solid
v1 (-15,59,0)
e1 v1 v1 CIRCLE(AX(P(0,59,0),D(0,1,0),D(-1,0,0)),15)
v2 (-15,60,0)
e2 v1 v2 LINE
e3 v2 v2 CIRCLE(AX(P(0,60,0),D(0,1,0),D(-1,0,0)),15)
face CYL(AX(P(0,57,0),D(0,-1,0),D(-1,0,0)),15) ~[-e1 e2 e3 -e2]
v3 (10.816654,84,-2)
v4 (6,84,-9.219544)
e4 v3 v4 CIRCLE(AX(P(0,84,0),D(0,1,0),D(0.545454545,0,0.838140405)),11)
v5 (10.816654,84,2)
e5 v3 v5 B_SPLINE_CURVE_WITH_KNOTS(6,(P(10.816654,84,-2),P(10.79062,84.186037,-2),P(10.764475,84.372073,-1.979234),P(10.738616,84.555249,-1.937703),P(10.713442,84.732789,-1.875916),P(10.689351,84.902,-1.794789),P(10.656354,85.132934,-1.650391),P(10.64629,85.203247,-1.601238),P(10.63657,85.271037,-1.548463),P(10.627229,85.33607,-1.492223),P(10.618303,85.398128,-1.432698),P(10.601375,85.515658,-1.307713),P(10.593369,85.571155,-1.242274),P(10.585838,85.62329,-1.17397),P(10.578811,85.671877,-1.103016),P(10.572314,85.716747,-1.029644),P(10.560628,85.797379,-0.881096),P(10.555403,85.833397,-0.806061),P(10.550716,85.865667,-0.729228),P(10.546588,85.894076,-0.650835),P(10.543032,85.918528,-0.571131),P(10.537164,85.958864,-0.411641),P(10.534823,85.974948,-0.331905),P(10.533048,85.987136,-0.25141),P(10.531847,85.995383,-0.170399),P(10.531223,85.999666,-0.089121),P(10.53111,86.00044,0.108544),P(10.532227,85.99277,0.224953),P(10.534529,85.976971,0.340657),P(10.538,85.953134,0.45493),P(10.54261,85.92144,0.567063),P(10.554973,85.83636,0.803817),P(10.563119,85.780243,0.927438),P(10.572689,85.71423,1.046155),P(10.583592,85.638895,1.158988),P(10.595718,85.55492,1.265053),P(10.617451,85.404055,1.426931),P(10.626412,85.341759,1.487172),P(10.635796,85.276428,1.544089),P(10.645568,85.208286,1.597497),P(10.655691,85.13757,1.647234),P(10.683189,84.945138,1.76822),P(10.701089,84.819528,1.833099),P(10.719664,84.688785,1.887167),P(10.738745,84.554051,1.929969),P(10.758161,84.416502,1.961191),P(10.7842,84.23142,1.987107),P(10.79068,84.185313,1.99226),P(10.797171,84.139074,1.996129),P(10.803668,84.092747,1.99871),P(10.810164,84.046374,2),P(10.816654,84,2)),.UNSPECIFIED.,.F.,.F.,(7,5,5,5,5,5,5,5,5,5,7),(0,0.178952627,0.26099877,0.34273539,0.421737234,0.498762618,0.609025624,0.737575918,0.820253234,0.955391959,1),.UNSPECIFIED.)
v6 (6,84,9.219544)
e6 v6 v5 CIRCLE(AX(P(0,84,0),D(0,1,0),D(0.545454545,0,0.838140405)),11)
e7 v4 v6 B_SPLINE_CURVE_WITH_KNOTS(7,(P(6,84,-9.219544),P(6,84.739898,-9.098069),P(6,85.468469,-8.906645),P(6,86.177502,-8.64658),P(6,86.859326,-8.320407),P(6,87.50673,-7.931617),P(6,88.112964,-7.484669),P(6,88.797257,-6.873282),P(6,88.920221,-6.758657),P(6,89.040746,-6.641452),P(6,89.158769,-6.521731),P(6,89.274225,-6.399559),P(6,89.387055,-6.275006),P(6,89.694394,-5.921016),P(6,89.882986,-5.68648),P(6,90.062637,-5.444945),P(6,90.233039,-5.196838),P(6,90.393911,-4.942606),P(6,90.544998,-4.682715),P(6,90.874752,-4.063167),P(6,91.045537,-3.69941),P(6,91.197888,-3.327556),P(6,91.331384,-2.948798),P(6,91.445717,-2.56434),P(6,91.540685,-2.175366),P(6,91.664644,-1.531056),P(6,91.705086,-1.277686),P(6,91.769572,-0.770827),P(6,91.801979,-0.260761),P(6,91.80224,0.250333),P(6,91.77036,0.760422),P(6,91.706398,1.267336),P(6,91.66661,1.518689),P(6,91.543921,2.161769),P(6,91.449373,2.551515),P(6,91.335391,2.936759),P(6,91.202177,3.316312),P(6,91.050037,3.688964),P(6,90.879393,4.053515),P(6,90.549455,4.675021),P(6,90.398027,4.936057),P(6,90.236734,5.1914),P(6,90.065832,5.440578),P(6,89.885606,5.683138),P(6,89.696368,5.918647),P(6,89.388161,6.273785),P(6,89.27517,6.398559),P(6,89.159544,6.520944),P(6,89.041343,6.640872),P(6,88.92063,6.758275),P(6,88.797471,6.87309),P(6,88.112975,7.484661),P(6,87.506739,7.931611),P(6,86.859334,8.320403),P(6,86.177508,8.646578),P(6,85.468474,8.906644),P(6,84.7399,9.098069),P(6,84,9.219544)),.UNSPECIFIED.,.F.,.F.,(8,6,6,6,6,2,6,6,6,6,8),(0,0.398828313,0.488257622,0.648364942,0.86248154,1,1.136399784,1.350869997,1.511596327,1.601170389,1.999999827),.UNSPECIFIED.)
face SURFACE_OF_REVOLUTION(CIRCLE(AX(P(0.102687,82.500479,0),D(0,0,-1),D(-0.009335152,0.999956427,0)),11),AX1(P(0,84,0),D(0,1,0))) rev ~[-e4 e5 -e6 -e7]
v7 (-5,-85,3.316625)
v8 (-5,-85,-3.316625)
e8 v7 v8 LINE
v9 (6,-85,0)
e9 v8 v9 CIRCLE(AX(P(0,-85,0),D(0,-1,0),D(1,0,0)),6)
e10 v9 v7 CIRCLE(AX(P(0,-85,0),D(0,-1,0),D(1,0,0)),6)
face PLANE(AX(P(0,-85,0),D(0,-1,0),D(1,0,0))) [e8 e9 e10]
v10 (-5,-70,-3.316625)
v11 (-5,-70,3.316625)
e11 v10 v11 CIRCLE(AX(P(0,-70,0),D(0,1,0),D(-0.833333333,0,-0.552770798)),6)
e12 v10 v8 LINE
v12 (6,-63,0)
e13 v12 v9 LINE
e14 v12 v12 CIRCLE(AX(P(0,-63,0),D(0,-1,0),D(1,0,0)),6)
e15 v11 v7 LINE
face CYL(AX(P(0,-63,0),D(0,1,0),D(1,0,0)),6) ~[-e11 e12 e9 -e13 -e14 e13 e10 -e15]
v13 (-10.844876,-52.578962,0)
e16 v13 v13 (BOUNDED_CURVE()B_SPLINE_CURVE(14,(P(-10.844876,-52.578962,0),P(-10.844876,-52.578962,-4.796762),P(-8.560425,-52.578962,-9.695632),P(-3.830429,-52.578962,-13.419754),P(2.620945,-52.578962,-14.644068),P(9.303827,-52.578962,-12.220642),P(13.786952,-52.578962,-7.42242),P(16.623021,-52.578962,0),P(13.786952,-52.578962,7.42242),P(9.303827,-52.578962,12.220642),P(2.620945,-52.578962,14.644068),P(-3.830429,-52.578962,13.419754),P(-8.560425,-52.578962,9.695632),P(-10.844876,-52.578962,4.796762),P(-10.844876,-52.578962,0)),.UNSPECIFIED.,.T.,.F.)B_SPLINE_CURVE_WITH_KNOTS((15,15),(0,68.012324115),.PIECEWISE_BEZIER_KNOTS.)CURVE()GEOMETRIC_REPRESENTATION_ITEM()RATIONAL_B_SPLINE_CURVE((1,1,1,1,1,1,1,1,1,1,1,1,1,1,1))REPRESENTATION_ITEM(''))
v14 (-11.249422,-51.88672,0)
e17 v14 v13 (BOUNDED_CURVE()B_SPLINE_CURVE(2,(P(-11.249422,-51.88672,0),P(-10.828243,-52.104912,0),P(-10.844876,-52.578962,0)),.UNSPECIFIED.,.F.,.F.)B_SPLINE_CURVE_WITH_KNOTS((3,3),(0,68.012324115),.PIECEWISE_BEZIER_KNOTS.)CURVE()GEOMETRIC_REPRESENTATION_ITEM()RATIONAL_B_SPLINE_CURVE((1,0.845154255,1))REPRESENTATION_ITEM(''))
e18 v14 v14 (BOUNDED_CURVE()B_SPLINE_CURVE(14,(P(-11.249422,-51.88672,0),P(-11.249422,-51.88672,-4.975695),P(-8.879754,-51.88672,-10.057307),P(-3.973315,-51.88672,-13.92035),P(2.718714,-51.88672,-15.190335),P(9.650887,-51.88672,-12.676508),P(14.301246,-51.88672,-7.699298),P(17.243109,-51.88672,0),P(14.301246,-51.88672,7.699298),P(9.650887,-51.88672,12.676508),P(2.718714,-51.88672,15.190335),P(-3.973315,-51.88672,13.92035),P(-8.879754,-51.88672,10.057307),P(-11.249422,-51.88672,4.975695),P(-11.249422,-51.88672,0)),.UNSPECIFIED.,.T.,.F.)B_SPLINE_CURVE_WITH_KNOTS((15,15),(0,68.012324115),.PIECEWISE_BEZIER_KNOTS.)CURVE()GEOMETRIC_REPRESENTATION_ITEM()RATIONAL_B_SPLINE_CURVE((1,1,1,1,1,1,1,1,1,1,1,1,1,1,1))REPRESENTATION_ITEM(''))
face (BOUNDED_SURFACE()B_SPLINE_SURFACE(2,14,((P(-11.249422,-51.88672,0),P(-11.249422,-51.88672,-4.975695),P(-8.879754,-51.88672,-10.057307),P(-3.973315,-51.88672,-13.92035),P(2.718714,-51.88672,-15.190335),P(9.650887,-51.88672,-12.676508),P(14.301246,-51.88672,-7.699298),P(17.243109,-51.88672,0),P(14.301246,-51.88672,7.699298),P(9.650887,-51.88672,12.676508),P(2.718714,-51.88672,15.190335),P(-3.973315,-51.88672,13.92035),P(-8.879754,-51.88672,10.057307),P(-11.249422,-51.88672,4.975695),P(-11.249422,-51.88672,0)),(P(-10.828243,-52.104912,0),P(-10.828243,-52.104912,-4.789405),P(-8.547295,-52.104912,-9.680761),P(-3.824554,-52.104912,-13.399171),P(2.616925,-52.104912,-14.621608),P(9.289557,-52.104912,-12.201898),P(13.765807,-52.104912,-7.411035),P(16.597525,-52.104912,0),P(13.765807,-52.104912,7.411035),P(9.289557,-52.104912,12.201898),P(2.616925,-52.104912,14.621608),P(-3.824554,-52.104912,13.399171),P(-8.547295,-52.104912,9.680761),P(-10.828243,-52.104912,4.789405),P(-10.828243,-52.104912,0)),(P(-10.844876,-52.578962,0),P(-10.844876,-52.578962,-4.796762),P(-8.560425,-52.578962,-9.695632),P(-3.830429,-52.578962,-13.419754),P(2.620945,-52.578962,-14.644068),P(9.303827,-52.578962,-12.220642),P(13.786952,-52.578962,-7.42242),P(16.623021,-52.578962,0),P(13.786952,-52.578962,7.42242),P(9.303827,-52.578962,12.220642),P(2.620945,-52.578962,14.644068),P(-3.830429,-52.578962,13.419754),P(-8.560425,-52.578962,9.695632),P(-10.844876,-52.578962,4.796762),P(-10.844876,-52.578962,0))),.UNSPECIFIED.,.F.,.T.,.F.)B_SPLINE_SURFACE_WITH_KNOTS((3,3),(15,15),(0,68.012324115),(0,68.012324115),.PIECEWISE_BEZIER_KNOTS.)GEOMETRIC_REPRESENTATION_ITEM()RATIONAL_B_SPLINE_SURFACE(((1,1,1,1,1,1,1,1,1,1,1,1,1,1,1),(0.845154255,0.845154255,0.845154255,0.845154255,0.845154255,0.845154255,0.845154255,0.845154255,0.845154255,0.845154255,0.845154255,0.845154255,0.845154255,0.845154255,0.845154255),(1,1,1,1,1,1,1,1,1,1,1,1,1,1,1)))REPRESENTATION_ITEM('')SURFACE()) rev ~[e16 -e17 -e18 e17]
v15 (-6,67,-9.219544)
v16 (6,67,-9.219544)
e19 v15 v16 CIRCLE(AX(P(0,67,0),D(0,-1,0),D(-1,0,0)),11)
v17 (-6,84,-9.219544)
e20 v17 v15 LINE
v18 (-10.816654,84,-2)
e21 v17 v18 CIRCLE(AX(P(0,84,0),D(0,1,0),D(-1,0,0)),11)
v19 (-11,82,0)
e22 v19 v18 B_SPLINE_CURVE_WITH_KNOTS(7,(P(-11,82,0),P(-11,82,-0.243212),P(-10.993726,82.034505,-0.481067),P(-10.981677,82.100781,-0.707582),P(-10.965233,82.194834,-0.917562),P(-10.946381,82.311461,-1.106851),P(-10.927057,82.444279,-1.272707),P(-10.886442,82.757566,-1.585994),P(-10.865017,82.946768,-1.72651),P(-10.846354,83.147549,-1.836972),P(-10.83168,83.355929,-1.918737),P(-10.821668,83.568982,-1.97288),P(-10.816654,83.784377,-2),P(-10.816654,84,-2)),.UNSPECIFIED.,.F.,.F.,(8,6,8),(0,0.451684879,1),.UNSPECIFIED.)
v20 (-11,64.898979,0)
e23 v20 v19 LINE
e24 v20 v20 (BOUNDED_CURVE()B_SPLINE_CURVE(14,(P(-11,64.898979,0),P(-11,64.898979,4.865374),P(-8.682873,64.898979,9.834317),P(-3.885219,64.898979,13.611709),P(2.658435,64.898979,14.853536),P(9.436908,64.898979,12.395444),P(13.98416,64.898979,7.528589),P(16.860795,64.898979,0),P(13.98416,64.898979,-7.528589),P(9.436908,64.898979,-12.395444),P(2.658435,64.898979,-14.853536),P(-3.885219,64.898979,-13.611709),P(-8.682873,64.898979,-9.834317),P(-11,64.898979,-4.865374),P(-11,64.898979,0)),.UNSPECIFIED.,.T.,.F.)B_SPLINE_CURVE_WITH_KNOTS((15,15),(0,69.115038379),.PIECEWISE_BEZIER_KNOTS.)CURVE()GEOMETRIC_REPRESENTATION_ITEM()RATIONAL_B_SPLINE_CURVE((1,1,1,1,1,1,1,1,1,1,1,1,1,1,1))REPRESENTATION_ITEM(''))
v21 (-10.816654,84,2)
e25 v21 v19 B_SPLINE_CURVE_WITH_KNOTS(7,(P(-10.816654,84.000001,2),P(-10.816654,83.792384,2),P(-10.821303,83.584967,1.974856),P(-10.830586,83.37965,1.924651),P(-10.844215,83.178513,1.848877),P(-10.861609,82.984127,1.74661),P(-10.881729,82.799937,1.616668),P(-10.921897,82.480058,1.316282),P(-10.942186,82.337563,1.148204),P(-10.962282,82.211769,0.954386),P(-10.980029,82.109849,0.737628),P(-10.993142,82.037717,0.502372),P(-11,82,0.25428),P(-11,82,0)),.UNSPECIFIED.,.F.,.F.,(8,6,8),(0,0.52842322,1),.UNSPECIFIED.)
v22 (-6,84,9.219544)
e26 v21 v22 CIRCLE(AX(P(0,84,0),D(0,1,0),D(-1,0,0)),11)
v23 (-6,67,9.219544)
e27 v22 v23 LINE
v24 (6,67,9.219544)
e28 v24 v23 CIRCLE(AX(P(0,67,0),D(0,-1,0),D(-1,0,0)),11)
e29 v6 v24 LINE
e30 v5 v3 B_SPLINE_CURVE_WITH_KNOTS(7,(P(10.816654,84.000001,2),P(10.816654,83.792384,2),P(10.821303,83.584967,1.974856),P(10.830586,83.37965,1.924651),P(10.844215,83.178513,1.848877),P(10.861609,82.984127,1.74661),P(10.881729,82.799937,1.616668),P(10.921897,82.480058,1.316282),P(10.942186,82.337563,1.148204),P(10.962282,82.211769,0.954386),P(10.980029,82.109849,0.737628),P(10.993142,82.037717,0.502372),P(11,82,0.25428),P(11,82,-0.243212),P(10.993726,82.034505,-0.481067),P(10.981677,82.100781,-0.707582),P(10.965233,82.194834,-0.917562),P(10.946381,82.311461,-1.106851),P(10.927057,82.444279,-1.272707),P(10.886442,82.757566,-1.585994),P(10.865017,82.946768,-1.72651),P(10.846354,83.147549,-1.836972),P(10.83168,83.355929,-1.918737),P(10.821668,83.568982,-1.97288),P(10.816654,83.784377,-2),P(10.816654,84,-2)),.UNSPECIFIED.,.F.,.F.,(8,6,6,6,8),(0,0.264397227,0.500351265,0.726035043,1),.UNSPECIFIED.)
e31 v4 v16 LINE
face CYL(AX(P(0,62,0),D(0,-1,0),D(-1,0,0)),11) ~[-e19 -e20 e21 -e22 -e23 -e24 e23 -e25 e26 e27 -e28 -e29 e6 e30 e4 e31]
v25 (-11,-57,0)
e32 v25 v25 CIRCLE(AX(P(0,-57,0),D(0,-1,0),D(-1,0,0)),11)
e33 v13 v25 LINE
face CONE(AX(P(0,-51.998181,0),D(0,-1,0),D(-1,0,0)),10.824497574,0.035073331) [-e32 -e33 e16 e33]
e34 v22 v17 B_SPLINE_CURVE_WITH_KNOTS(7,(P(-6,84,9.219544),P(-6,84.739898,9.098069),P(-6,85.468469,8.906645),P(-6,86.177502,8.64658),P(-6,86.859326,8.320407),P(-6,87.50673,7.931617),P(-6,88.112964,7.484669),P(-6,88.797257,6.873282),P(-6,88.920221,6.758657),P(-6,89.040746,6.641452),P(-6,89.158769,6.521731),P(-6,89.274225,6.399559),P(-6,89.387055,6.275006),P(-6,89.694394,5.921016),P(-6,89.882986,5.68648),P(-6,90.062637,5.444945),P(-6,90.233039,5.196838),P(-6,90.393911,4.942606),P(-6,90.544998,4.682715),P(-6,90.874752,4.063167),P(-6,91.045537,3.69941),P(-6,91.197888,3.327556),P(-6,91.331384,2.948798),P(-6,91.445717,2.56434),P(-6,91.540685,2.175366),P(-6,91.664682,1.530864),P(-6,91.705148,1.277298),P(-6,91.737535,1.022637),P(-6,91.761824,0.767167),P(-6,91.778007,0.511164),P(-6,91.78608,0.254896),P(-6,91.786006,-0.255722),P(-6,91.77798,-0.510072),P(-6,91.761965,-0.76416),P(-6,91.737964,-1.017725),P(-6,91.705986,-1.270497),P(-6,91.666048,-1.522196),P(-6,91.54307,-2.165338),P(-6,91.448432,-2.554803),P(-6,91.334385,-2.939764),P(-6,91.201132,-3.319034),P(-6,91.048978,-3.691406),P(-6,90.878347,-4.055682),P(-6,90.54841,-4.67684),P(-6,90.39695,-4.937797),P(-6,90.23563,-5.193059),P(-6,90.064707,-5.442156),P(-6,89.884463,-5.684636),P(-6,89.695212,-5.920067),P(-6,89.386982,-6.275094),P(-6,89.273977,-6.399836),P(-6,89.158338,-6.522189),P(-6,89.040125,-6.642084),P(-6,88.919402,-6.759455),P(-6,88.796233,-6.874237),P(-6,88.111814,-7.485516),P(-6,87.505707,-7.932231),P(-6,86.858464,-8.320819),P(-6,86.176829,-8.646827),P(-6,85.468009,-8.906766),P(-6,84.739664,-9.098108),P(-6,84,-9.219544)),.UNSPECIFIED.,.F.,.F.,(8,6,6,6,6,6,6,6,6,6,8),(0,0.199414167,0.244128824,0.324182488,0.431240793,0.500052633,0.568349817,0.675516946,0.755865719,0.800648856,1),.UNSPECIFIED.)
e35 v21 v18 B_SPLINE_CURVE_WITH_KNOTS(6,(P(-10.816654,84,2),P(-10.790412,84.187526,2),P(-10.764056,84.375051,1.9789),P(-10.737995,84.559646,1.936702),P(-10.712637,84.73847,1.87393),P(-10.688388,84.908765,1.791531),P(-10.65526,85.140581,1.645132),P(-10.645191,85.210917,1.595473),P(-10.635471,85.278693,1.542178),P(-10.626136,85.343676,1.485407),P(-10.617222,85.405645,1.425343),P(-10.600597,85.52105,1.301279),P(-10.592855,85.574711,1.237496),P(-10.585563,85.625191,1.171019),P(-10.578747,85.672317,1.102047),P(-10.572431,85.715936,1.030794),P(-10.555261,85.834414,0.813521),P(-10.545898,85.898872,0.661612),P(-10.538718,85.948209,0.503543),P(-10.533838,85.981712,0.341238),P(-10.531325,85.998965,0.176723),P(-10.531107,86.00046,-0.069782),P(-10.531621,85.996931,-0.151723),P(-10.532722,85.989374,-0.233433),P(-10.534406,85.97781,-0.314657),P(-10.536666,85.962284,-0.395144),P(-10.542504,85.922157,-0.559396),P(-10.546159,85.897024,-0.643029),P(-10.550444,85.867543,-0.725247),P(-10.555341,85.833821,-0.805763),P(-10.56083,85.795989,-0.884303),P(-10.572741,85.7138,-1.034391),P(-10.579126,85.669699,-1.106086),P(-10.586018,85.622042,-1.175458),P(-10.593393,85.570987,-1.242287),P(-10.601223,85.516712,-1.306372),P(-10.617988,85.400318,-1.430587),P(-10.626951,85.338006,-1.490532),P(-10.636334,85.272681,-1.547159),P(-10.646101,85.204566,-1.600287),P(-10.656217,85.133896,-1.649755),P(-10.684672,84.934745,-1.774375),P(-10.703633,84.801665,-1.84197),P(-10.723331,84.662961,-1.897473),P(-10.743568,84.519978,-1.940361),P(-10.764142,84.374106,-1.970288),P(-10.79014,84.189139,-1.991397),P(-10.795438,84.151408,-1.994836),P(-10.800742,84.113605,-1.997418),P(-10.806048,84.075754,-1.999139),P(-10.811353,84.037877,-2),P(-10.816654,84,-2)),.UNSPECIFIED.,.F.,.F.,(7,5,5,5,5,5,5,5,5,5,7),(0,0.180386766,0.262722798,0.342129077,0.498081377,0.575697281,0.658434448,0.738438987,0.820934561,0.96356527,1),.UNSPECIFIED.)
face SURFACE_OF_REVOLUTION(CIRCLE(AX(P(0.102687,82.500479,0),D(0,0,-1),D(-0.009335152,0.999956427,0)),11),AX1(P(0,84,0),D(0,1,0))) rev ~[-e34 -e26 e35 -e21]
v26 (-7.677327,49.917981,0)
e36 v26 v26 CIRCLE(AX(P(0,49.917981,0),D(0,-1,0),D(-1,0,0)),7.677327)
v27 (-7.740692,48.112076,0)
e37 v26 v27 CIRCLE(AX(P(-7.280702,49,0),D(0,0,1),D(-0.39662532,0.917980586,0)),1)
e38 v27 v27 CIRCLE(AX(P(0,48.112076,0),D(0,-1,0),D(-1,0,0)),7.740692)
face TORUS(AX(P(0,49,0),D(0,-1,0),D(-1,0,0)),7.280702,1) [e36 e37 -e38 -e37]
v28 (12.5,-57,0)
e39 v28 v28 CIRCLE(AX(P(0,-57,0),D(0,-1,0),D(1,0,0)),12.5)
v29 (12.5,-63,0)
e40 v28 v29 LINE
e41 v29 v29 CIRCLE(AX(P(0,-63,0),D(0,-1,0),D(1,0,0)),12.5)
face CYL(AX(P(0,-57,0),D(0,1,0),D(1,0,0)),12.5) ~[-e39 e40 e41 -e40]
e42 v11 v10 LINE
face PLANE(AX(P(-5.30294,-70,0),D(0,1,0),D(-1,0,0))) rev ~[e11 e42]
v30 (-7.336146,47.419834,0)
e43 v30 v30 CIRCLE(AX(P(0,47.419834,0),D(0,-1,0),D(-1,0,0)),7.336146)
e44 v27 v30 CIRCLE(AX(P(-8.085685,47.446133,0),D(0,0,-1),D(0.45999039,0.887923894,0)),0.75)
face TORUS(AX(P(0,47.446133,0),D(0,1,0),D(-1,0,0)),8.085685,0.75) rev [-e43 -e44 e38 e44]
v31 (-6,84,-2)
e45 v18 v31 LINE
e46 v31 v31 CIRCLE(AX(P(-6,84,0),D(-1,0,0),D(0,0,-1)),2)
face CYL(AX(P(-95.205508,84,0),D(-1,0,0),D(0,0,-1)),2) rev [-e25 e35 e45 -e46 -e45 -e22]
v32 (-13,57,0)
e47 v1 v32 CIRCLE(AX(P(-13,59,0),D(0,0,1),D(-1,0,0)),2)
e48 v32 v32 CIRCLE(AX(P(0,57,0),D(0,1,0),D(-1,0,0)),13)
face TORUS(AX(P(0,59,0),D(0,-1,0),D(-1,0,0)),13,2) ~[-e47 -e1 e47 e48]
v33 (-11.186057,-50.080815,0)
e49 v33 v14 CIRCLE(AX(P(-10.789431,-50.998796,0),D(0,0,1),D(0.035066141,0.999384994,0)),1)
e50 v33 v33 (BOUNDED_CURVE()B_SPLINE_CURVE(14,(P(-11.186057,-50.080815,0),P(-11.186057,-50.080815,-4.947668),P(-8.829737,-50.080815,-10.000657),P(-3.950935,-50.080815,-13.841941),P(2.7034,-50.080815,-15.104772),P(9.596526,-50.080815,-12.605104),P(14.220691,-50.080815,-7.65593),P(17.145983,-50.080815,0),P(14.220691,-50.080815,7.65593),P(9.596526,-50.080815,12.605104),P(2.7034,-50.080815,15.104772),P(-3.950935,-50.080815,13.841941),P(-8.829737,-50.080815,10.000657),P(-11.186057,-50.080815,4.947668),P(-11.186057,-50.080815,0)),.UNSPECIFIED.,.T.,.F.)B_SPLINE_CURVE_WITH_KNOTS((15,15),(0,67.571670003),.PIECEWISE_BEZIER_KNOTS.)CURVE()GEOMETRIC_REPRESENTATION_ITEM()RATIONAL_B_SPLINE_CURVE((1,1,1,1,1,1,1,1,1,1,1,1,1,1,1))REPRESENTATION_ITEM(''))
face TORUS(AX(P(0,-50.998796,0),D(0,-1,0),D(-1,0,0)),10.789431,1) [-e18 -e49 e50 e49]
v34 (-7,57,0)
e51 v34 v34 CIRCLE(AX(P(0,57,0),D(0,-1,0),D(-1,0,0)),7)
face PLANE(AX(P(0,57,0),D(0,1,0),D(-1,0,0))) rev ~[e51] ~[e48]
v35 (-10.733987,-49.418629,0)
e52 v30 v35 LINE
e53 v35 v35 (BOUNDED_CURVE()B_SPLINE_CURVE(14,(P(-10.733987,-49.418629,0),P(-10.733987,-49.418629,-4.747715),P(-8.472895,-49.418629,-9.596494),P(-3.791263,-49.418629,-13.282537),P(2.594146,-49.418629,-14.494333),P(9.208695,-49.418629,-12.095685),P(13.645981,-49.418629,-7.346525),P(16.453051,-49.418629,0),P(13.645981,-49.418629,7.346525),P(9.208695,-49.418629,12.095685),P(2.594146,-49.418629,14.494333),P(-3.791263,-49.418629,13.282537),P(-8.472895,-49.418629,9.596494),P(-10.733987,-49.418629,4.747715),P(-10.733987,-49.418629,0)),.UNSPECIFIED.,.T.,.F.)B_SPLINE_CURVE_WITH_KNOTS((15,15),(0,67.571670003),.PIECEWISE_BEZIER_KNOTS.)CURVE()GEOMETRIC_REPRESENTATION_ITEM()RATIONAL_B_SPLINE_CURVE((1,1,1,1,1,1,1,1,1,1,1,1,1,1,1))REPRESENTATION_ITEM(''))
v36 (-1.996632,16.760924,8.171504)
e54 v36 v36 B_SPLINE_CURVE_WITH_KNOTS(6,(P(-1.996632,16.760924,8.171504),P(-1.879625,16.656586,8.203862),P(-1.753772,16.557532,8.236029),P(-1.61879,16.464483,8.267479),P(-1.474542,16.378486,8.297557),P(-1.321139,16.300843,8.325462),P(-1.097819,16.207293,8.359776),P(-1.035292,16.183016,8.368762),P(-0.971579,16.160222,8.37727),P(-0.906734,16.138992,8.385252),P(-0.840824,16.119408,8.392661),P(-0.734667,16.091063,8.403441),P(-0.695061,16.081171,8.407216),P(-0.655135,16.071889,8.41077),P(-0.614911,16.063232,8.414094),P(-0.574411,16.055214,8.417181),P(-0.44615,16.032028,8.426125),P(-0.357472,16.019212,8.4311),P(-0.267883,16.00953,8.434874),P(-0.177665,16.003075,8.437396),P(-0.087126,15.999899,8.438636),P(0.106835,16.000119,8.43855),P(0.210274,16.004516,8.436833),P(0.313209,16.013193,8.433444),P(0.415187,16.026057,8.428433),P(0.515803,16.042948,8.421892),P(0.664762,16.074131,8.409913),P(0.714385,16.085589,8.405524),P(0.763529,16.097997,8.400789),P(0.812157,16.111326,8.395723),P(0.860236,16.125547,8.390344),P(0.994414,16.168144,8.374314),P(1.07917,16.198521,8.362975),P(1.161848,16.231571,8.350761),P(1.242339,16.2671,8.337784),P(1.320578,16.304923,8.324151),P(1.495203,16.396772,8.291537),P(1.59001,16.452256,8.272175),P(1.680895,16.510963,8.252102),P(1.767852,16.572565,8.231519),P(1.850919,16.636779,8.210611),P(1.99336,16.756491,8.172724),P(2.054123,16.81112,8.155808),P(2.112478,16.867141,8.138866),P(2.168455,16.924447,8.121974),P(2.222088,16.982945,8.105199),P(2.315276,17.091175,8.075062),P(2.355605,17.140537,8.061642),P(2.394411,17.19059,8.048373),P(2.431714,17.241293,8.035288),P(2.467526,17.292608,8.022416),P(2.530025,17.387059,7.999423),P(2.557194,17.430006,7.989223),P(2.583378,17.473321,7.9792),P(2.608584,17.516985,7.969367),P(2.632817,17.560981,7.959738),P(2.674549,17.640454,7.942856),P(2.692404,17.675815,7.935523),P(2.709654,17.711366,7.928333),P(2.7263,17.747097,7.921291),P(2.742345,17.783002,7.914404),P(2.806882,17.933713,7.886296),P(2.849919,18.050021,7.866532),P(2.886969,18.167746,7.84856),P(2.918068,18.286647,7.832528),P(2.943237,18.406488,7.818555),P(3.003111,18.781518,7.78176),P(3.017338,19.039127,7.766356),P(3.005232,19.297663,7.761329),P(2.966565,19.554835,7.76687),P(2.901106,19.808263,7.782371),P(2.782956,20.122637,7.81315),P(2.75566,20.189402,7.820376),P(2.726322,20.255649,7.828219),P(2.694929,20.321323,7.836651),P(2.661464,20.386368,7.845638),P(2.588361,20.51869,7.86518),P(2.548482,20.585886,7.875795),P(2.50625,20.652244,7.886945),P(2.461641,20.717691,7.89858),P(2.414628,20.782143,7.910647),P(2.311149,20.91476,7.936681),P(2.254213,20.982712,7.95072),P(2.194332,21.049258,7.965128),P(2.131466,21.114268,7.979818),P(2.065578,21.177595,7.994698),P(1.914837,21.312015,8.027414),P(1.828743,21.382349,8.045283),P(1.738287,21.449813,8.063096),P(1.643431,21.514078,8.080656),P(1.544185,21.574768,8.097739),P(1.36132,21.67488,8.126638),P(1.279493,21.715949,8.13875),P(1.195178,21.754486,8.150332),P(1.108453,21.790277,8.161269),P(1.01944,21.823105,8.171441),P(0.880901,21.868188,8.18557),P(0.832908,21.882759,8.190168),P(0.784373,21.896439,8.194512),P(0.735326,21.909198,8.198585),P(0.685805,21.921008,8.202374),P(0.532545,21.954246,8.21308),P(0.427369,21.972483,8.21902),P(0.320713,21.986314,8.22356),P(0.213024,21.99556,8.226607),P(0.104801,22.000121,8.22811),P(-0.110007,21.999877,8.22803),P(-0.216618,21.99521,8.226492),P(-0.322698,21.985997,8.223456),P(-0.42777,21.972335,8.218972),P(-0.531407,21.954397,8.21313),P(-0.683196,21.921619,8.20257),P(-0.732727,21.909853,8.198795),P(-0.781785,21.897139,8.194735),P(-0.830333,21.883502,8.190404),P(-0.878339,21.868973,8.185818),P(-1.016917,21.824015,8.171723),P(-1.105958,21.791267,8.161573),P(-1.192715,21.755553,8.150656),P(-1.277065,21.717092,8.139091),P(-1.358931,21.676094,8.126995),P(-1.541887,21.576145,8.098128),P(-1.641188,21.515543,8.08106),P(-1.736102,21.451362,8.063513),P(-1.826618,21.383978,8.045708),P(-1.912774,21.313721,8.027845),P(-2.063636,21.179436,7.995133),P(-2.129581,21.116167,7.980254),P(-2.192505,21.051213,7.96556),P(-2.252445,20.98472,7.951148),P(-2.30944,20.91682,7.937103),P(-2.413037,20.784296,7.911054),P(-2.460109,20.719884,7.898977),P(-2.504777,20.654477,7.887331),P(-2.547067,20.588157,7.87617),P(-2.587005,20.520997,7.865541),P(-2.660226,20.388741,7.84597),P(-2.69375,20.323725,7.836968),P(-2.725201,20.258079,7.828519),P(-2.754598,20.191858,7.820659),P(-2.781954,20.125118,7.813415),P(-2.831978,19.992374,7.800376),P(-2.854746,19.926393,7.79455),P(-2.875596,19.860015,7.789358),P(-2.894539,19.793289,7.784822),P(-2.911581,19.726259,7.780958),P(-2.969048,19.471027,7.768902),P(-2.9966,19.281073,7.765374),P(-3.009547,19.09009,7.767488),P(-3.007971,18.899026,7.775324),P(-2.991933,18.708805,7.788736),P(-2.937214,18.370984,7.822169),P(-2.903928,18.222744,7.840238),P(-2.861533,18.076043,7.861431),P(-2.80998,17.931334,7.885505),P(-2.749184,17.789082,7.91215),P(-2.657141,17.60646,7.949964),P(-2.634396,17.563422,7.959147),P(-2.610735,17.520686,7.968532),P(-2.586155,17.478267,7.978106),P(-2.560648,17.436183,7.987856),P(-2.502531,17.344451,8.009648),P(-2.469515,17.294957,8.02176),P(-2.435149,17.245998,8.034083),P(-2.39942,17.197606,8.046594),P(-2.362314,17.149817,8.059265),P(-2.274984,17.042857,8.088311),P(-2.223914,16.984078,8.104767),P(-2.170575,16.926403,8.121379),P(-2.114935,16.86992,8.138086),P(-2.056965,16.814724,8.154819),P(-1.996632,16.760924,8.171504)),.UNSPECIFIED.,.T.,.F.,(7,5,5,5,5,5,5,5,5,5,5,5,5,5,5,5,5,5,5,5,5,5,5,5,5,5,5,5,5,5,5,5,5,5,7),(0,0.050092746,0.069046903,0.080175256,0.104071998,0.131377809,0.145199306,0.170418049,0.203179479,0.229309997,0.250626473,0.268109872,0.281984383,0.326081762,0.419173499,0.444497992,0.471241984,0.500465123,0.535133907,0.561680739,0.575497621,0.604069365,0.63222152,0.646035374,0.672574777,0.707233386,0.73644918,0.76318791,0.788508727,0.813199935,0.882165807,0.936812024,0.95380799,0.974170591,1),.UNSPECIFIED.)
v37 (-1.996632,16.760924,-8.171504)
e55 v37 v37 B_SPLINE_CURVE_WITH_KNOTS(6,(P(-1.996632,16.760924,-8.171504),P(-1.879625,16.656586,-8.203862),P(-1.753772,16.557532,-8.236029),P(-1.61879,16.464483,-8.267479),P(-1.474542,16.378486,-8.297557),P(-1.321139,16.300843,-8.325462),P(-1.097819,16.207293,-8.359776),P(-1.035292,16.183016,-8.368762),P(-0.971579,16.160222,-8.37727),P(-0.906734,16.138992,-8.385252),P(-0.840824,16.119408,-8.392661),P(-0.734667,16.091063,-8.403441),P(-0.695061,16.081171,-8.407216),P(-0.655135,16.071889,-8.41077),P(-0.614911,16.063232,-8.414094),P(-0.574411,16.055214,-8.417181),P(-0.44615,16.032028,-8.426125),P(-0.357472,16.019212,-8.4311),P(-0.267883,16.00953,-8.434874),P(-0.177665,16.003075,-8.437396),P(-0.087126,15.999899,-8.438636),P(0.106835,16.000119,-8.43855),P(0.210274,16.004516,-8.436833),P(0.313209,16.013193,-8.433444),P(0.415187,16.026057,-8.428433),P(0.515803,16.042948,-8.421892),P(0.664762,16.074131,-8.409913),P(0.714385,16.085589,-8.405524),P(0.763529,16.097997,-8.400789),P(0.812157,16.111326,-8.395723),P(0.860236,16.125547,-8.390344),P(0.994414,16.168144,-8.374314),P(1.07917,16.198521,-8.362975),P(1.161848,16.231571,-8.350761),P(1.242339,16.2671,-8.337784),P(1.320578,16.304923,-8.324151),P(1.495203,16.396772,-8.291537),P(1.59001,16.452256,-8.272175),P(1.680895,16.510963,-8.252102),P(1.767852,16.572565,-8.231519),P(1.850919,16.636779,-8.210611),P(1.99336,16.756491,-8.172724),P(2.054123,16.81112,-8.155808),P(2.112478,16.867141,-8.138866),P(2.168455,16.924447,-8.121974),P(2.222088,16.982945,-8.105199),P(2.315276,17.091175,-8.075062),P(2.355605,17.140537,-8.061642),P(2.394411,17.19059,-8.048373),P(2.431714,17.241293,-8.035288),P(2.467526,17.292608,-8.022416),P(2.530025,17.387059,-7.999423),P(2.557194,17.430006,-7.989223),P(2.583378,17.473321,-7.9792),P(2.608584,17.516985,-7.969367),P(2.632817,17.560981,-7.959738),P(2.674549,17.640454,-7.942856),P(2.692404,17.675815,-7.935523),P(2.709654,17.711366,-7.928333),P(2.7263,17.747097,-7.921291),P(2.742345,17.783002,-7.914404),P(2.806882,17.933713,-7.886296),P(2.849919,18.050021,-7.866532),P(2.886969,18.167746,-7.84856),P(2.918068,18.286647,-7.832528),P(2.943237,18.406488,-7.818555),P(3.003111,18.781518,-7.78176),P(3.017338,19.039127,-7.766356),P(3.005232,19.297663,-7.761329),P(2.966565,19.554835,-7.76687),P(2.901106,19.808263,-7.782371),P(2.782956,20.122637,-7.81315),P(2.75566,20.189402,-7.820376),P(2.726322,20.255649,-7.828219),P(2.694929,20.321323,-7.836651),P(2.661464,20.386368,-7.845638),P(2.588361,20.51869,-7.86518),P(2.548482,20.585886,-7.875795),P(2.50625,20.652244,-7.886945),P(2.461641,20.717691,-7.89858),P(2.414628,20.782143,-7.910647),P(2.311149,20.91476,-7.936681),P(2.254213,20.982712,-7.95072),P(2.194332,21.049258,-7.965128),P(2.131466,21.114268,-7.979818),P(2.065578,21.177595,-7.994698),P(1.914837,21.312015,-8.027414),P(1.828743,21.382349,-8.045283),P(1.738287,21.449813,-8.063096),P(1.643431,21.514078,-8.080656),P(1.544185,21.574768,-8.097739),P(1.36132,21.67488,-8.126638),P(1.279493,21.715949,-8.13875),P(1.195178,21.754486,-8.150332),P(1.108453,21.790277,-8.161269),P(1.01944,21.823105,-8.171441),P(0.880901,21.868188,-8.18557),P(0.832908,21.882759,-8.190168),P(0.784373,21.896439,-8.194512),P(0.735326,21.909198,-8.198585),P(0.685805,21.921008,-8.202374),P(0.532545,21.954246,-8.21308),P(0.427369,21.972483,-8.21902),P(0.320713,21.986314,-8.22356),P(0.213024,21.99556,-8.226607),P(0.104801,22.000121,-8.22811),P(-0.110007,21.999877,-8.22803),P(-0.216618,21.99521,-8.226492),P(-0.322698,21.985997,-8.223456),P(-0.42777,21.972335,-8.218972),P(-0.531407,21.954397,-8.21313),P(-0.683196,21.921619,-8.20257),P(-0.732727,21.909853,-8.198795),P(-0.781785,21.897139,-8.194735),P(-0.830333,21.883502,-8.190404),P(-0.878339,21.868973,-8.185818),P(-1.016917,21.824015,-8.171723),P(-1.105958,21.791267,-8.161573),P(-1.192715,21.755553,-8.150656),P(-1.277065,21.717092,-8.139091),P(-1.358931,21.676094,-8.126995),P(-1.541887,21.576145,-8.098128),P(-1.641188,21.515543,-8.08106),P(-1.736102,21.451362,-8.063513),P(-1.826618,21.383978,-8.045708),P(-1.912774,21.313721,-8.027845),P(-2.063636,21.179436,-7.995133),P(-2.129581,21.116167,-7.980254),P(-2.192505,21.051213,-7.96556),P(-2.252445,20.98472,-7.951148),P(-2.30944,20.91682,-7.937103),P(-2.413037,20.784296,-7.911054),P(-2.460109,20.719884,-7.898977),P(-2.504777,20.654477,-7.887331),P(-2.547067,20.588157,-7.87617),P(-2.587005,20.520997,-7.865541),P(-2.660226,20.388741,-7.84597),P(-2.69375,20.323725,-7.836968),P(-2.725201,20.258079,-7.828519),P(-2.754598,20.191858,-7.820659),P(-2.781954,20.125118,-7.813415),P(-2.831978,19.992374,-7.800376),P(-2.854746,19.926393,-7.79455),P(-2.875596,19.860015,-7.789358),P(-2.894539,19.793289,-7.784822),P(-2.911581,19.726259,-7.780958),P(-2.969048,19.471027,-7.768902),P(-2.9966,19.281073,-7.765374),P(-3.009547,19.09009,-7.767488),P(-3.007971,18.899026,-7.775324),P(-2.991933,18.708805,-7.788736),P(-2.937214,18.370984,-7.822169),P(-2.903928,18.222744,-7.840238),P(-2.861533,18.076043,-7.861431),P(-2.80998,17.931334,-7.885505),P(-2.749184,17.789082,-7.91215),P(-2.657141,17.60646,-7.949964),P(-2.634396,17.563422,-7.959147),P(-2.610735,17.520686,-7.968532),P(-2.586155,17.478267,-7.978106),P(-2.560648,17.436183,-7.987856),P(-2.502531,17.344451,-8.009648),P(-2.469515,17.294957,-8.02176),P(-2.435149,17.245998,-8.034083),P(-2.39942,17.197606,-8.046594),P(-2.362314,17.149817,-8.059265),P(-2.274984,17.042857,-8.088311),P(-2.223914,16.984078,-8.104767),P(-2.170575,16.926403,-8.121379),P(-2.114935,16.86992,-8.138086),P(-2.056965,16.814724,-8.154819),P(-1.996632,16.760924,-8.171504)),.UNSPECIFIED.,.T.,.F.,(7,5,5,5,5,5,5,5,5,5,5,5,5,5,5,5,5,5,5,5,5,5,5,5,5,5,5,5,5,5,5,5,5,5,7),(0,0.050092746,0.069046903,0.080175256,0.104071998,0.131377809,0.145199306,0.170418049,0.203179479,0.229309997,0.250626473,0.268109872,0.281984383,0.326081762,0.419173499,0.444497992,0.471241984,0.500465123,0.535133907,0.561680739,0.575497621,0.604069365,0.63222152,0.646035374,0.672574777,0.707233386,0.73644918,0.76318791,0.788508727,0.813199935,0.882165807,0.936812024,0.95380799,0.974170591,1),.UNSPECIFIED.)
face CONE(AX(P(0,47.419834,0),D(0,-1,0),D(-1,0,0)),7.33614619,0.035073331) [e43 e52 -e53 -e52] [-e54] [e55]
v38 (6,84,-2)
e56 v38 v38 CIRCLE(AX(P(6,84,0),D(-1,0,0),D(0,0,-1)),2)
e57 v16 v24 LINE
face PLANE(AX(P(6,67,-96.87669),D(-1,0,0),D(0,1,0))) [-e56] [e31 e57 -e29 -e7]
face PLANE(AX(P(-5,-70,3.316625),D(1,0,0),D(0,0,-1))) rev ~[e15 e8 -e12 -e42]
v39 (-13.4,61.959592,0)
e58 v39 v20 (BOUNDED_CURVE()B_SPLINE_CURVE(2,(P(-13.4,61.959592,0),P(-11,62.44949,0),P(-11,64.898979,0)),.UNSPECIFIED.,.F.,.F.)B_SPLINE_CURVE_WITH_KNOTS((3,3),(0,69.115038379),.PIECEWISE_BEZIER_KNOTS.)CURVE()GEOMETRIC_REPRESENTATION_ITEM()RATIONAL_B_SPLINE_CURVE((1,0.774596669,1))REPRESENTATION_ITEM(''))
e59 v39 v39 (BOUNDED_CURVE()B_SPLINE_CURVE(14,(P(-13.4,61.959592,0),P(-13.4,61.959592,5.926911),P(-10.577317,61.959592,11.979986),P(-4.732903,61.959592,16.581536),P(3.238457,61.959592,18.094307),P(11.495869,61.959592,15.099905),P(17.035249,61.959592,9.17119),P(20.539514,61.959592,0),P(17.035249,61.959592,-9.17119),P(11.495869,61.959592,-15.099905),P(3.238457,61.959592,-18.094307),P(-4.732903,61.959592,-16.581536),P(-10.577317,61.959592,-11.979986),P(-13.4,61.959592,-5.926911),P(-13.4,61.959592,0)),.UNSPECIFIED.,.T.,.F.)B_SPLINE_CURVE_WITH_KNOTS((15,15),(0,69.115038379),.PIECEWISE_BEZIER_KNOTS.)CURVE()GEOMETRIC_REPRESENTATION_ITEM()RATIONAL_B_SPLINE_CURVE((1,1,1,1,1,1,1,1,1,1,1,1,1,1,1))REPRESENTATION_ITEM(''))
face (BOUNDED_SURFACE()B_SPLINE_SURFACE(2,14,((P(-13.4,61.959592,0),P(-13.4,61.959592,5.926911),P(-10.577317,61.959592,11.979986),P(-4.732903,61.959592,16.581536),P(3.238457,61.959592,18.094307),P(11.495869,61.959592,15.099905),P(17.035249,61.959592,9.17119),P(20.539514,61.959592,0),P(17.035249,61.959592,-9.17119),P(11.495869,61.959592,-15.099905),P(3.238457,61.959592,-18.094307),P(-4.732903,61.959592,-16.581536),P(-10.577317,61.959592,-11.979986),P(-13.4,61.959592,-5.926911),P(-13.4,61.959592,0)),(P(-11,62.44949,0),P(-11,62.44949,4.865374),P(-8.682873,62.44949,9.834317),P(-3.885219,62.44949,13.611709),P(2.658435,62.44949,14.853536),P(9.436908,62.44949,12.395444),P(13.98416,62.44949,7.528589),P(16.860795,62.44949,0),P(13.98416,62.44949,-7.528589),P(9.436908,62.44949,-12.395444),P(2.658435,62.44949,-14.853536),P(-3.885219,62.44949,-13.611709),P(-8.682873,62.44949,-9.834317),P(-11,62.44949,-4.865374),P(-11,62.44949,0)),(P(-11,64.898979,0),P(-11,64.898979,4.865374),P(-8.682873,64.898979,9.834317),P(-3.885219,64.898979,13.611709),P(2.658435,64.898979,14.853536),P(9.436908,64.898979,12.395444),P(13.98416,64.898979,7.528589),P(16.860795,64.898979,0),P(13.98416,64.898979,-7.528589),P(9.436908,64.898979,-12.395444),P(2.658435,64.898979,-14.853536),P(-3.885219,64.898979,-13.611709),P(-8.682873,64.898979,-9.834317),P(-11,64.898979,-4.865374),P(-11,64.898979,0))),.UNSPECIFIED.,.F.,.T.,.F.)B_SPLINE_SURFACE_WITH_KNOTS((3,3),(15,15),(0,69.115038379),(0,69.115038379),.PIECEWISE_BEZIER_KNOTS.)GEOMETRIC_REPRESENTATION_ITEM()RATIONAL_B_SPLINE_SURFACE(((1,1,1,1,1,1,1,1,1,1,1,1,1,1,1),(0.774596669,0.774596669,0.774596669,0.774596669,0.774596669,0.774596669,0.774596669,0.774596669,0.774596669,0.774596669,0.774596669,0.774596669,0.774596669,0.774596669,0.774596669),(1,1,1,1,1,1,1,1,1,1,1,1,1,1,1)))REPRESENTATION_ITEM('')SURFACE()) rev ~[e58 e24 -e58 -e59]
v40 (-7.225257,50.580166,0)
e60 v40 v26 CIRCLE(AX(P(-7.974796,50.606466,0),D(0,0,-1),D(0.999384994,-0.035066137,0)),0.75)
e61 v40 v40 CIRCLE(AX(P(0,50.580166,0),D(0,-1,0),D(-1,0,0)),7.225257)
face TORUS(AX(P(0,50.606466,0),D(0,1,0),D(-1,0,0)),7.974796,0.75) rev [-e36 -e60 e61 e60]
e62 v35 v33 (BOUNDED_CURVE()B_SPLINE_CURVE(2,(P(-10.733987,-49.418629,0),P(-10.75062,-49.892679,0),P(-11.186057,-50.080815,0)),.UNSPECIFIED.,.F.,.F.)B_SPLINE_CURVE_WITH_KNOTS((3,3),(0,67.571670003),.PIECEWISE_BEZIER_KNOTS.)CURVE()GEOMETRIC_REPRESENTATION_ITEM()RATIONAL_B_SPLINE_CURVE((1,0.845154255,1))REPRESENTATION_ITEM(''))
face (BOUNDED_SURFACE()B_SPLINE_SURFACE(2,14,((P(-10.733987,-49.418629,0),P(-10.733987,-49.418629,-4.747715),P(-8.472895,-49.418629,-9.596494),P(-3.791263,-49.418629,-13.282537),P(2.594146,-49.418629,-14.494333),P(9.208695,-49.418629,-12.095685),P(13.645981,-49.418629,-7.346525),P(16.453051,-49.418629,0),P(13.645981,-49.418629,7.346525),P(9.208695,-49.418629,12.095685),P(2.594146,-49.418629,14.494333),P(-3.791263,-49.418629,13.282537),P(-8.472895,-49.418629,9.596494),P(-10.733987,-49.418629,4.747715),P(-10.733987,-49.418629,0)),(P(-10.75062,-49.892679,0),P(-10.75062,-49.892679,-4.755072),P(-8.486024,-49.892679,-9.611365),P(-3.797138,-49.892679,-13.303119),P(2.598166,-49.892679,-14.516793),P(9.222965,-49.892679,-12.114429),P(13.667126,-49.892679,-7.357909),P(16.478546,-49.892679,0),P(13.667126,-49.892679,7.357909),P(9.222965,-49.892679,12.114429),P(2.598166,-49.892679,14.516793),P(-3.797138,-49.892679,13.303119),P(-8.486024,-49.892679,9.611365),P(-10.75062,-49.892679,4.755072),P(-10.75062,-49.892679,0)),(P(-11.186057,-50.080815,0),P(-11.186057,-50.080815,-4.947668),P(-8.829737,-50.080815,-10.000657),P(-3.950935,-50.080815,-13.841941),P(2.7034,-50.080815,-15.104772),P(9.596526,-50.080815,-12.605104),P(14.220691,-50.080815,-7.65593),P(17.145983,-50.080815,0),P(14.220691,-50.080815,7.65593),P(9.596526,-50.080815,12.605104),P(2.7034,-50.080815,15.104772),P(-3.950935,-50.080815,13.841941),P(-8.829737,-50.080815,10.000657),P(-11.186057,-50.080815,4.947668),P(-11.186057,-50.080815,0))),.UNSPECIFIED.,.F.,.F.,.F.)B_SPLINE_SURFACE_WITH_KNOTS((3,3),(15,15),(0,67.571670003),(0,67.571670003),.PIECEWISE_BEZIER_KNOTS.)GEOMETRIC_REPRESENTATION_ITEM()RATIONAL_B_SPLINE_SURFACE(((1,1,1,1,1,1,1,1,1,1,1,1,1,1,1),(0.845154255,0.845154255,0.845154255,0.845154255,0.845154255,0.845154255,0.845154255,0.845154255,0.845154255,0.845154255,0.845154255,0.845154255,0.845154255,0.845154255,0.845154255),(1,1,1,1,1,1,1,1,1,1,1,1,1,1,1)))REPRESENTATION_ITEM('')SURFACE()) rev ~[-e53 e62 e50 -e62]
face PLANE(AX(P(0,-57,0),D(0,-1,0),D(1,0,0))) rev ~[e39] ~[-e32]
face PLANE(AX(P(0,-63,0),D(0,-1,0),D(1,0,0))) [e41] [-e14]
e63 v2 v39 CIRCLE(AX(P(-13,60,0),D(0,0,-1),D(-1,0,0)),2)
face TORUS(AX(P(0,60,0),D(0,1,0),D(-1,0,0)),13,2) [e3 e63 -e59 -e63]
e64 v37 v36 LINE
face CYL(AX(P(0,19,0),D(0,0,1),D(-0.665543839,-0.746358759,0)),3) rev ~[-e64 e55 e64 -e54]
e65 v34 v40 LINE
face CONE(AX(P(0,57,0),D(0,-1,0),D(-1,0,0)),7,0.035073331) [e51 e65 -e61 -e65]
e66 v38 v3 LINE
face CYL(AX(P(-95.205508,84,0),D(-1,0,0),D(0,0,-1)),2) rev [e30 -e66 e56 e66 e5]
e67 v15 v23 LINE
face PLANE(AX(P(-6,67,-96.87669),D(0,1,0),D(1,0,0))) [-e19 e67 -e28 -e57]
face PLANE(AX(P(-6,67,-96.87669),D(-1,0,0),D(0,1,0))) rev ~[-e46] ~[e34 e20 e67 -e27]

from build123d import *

# Parameters (mm, degrees)
FILLET1_R               = 0.75
SKETCH2_R               = 12.5
BOSS_EXTRUDE1_DEPTH     = 6
SKETCH3_R               = 6
BOSS_EXTRUDE2_DEPTH     = 22
SKETCH5_R               = 15
BOSS_EXTRUDE4_DEPTH     = 5
CUT_EXTRUDE2_START      = -15
CUT_EXTRUDE2_DEPTH      = 15
SKETCH9_R               = 11
BOSS_EXTRUDE6_DEPTH     = 22
FILLET2_R               = 2
FILLET3_R               = 3
CUT_EXTRUDE3_DEPTH      = 96.876689845
CUT_EXTRUDE3_DEPTH_BACK = 96.876689845
SKETCH11_W              = 12
SKETCH11_H              = 28
SKETCH13_R              = 3
CUT_EXTRUDE4_DEPTH      = 11
CUT_EXTRUDE5_DEPTH      = 95.205508005
CUT_EXTRUDE5_DEPTH_BACK = 95.205508005
SKETCH14_R              = 2


with BuildPart() as part:
    # Sketch1 → Revolve2 (revolve)
    with BuildSketch(Plane.XY):
        with BuildLine():
            Line((0, 57), (7, 57))
            Line((7, 57), (7.225257319, 50.58016642))
            ThreePointArc((7.225257319, 50.58016642), (7.355377934, 50.18359349), (7.677327074, 49.917980586))
            ThreePointArc((7.677327074, 49.917980586), (8.280086748, 49.03506614), (7.740692144, 48.112076106))
            ThreePointArc((7.740692144, 48.112076106), (7.438151346, 47.824551274), (7.33614619, 47.41983358))
            Line((7.33614619, 47.41983358), (10.754365294, -49.999410886))
            ThreePointArc((10.754365294, -49.999410886), (11.788816428, -50.963729739), (10.824497574, -51.998180873))
            Line((10.824497574, -51.998180873), (11, -57))
            Line((11, -57), (0, -57))
            Line((0, -57), (0, 57))
        make_face()
    revolve(axis=Axis((0, 57, 0), (0, -1, 0)))

    # Fillet1
    fillet1_edges = [part.edges().sort_by_distance(p)[0] for p in [
        (-10.824497574, -51.998180873, 0),
        (-10.754365294, -49.999410886, 0),
    ]]
    fillet(fillet1_edges, radius=FILLET1_R)

    # Sketch2 → Boss-Extrude1 (add)
    with BuildSketch(Plane.XZ.offset(57)):
        Circle(SKETCH2_R)
    extrude(amount=BOSS_EXTRUDE1_DEPTH)

    # Sketch3 → Boss-Extrude2 (add)
    with BuildSketch(Plane.XZ.offset(63)):
        Circle(SKETCH3_R)
    extrude(amount=BOSS_EXTRUDE2_DEPTH)

    # Sketch5 → Boss-Extrude4 (add)
    with BuildSketch(Plane(origin=(0, 57, 0), x_dir=(1, 0, 0), z_dir=(0, 1, 0))):
        Circle(SKETCH5_R)
    extrude(amount=BOSS_EXTRUDE4_DEPTH)

    # Sketch8 → Cut-Extrude2 (cut)
    with BuildSketch(Plane.XZ.offset(85).offset(CUT_EXTRUDE2_START)):
        with BuildLine():
            Line((-5, 3.31662479), (-5, -3.31662479))
            ThreePointArc((-5, -3.31662479), (-6, 0), (-5, 3.31662479))
        make_face()
    extrude(amount=CUT_EXTRUDE2_DEPTH, mode=Mode.SUBTRACT)

    # Sketch9 → Boss-Extrude6 (add)
    with BuildSketch(Plane(origin=(0, 62, 0), x_dir=(1, 0, 0), z_dir=(0, 1, 0))):
        Circle(SKETCH9_R)
    extrude(amount=BOSS_EXTRUDE6_DEPTH)

    # Fillet2
    fillet2_edges = [part.edges().sort_by_distance(p)[0] for p in [
        (-15, 57, 0),
        (-15, 62, 0),
    ]]
    fillet(fillet2_edges, radius=FILLET2_R)

    # Fillet3
    fillet3_edges = [part.edges().sort_by_distance(p)[0] for p in [
        (-11, 62, 0),
    ]]
    fillet(fillet3_edges, radius=FILLET3_R)

    # Sketch10 → Revolve3 (revolve)
    with BuildSketch(Plane.XY):
        with BuildLine():
            Line((11, 84), (0, 84))
            Line((0, 84), (0, 93.5))
            ThreePointArc((0, 93.5), (7.292505249, 90.825532394), (11, 84))
        make_face()
    revolve(axis=Axis((0, 84, 0), (0, 1, 0)))

    # Sketch11 → Cut-Extrude3 (cut, two sides: drawn at the far end of the back side and taken through both)
    with BuildSketch(Plane.XY.offset(-CUT_EXTRUDE3_DEPTH_BACK)):
        with Locations((0, 81)):
            Rectangle(SKETCH11_W, SKETCH11_H)
    extrude(amount=CUT_EXTRUDE3_DEPTH + CUT_EXTRUDE3_DEPTH_BACK, mode=Mode.SUBTRACT)

    # Sketch13 → Cut-Extrude4 (cut, symmetric)
    with BuildSketch(Plane.XY):
        with Locations((0, 19)):
            Circle(SKETCH13_R)
    extrude(amount=CUT_EXTRUDE4_DEPTH, both=True, mode=Mode.SUBTRACT)

    # Sketch14 → Cut-Extrude5 (cut, two sides: drawn at the far end of the back side and taken through both)
    with BuildSketch(Plane(origin=(0, 0, 0), x_dir=(0, 0, -1), z_dir=(1, 0, 0)).offset(-CUT_EXTRUDE5_DEPTH_BACK)):
        with Locations((0, 84)):
            Circle(SKETCH14_R)
    extrude(amount=CUT_EXTRUDE5_DEPTH + CUT_EXTRUDE5_DEPTH_BACK, mode=Mode.SUBTRACT)


solid = part.part
